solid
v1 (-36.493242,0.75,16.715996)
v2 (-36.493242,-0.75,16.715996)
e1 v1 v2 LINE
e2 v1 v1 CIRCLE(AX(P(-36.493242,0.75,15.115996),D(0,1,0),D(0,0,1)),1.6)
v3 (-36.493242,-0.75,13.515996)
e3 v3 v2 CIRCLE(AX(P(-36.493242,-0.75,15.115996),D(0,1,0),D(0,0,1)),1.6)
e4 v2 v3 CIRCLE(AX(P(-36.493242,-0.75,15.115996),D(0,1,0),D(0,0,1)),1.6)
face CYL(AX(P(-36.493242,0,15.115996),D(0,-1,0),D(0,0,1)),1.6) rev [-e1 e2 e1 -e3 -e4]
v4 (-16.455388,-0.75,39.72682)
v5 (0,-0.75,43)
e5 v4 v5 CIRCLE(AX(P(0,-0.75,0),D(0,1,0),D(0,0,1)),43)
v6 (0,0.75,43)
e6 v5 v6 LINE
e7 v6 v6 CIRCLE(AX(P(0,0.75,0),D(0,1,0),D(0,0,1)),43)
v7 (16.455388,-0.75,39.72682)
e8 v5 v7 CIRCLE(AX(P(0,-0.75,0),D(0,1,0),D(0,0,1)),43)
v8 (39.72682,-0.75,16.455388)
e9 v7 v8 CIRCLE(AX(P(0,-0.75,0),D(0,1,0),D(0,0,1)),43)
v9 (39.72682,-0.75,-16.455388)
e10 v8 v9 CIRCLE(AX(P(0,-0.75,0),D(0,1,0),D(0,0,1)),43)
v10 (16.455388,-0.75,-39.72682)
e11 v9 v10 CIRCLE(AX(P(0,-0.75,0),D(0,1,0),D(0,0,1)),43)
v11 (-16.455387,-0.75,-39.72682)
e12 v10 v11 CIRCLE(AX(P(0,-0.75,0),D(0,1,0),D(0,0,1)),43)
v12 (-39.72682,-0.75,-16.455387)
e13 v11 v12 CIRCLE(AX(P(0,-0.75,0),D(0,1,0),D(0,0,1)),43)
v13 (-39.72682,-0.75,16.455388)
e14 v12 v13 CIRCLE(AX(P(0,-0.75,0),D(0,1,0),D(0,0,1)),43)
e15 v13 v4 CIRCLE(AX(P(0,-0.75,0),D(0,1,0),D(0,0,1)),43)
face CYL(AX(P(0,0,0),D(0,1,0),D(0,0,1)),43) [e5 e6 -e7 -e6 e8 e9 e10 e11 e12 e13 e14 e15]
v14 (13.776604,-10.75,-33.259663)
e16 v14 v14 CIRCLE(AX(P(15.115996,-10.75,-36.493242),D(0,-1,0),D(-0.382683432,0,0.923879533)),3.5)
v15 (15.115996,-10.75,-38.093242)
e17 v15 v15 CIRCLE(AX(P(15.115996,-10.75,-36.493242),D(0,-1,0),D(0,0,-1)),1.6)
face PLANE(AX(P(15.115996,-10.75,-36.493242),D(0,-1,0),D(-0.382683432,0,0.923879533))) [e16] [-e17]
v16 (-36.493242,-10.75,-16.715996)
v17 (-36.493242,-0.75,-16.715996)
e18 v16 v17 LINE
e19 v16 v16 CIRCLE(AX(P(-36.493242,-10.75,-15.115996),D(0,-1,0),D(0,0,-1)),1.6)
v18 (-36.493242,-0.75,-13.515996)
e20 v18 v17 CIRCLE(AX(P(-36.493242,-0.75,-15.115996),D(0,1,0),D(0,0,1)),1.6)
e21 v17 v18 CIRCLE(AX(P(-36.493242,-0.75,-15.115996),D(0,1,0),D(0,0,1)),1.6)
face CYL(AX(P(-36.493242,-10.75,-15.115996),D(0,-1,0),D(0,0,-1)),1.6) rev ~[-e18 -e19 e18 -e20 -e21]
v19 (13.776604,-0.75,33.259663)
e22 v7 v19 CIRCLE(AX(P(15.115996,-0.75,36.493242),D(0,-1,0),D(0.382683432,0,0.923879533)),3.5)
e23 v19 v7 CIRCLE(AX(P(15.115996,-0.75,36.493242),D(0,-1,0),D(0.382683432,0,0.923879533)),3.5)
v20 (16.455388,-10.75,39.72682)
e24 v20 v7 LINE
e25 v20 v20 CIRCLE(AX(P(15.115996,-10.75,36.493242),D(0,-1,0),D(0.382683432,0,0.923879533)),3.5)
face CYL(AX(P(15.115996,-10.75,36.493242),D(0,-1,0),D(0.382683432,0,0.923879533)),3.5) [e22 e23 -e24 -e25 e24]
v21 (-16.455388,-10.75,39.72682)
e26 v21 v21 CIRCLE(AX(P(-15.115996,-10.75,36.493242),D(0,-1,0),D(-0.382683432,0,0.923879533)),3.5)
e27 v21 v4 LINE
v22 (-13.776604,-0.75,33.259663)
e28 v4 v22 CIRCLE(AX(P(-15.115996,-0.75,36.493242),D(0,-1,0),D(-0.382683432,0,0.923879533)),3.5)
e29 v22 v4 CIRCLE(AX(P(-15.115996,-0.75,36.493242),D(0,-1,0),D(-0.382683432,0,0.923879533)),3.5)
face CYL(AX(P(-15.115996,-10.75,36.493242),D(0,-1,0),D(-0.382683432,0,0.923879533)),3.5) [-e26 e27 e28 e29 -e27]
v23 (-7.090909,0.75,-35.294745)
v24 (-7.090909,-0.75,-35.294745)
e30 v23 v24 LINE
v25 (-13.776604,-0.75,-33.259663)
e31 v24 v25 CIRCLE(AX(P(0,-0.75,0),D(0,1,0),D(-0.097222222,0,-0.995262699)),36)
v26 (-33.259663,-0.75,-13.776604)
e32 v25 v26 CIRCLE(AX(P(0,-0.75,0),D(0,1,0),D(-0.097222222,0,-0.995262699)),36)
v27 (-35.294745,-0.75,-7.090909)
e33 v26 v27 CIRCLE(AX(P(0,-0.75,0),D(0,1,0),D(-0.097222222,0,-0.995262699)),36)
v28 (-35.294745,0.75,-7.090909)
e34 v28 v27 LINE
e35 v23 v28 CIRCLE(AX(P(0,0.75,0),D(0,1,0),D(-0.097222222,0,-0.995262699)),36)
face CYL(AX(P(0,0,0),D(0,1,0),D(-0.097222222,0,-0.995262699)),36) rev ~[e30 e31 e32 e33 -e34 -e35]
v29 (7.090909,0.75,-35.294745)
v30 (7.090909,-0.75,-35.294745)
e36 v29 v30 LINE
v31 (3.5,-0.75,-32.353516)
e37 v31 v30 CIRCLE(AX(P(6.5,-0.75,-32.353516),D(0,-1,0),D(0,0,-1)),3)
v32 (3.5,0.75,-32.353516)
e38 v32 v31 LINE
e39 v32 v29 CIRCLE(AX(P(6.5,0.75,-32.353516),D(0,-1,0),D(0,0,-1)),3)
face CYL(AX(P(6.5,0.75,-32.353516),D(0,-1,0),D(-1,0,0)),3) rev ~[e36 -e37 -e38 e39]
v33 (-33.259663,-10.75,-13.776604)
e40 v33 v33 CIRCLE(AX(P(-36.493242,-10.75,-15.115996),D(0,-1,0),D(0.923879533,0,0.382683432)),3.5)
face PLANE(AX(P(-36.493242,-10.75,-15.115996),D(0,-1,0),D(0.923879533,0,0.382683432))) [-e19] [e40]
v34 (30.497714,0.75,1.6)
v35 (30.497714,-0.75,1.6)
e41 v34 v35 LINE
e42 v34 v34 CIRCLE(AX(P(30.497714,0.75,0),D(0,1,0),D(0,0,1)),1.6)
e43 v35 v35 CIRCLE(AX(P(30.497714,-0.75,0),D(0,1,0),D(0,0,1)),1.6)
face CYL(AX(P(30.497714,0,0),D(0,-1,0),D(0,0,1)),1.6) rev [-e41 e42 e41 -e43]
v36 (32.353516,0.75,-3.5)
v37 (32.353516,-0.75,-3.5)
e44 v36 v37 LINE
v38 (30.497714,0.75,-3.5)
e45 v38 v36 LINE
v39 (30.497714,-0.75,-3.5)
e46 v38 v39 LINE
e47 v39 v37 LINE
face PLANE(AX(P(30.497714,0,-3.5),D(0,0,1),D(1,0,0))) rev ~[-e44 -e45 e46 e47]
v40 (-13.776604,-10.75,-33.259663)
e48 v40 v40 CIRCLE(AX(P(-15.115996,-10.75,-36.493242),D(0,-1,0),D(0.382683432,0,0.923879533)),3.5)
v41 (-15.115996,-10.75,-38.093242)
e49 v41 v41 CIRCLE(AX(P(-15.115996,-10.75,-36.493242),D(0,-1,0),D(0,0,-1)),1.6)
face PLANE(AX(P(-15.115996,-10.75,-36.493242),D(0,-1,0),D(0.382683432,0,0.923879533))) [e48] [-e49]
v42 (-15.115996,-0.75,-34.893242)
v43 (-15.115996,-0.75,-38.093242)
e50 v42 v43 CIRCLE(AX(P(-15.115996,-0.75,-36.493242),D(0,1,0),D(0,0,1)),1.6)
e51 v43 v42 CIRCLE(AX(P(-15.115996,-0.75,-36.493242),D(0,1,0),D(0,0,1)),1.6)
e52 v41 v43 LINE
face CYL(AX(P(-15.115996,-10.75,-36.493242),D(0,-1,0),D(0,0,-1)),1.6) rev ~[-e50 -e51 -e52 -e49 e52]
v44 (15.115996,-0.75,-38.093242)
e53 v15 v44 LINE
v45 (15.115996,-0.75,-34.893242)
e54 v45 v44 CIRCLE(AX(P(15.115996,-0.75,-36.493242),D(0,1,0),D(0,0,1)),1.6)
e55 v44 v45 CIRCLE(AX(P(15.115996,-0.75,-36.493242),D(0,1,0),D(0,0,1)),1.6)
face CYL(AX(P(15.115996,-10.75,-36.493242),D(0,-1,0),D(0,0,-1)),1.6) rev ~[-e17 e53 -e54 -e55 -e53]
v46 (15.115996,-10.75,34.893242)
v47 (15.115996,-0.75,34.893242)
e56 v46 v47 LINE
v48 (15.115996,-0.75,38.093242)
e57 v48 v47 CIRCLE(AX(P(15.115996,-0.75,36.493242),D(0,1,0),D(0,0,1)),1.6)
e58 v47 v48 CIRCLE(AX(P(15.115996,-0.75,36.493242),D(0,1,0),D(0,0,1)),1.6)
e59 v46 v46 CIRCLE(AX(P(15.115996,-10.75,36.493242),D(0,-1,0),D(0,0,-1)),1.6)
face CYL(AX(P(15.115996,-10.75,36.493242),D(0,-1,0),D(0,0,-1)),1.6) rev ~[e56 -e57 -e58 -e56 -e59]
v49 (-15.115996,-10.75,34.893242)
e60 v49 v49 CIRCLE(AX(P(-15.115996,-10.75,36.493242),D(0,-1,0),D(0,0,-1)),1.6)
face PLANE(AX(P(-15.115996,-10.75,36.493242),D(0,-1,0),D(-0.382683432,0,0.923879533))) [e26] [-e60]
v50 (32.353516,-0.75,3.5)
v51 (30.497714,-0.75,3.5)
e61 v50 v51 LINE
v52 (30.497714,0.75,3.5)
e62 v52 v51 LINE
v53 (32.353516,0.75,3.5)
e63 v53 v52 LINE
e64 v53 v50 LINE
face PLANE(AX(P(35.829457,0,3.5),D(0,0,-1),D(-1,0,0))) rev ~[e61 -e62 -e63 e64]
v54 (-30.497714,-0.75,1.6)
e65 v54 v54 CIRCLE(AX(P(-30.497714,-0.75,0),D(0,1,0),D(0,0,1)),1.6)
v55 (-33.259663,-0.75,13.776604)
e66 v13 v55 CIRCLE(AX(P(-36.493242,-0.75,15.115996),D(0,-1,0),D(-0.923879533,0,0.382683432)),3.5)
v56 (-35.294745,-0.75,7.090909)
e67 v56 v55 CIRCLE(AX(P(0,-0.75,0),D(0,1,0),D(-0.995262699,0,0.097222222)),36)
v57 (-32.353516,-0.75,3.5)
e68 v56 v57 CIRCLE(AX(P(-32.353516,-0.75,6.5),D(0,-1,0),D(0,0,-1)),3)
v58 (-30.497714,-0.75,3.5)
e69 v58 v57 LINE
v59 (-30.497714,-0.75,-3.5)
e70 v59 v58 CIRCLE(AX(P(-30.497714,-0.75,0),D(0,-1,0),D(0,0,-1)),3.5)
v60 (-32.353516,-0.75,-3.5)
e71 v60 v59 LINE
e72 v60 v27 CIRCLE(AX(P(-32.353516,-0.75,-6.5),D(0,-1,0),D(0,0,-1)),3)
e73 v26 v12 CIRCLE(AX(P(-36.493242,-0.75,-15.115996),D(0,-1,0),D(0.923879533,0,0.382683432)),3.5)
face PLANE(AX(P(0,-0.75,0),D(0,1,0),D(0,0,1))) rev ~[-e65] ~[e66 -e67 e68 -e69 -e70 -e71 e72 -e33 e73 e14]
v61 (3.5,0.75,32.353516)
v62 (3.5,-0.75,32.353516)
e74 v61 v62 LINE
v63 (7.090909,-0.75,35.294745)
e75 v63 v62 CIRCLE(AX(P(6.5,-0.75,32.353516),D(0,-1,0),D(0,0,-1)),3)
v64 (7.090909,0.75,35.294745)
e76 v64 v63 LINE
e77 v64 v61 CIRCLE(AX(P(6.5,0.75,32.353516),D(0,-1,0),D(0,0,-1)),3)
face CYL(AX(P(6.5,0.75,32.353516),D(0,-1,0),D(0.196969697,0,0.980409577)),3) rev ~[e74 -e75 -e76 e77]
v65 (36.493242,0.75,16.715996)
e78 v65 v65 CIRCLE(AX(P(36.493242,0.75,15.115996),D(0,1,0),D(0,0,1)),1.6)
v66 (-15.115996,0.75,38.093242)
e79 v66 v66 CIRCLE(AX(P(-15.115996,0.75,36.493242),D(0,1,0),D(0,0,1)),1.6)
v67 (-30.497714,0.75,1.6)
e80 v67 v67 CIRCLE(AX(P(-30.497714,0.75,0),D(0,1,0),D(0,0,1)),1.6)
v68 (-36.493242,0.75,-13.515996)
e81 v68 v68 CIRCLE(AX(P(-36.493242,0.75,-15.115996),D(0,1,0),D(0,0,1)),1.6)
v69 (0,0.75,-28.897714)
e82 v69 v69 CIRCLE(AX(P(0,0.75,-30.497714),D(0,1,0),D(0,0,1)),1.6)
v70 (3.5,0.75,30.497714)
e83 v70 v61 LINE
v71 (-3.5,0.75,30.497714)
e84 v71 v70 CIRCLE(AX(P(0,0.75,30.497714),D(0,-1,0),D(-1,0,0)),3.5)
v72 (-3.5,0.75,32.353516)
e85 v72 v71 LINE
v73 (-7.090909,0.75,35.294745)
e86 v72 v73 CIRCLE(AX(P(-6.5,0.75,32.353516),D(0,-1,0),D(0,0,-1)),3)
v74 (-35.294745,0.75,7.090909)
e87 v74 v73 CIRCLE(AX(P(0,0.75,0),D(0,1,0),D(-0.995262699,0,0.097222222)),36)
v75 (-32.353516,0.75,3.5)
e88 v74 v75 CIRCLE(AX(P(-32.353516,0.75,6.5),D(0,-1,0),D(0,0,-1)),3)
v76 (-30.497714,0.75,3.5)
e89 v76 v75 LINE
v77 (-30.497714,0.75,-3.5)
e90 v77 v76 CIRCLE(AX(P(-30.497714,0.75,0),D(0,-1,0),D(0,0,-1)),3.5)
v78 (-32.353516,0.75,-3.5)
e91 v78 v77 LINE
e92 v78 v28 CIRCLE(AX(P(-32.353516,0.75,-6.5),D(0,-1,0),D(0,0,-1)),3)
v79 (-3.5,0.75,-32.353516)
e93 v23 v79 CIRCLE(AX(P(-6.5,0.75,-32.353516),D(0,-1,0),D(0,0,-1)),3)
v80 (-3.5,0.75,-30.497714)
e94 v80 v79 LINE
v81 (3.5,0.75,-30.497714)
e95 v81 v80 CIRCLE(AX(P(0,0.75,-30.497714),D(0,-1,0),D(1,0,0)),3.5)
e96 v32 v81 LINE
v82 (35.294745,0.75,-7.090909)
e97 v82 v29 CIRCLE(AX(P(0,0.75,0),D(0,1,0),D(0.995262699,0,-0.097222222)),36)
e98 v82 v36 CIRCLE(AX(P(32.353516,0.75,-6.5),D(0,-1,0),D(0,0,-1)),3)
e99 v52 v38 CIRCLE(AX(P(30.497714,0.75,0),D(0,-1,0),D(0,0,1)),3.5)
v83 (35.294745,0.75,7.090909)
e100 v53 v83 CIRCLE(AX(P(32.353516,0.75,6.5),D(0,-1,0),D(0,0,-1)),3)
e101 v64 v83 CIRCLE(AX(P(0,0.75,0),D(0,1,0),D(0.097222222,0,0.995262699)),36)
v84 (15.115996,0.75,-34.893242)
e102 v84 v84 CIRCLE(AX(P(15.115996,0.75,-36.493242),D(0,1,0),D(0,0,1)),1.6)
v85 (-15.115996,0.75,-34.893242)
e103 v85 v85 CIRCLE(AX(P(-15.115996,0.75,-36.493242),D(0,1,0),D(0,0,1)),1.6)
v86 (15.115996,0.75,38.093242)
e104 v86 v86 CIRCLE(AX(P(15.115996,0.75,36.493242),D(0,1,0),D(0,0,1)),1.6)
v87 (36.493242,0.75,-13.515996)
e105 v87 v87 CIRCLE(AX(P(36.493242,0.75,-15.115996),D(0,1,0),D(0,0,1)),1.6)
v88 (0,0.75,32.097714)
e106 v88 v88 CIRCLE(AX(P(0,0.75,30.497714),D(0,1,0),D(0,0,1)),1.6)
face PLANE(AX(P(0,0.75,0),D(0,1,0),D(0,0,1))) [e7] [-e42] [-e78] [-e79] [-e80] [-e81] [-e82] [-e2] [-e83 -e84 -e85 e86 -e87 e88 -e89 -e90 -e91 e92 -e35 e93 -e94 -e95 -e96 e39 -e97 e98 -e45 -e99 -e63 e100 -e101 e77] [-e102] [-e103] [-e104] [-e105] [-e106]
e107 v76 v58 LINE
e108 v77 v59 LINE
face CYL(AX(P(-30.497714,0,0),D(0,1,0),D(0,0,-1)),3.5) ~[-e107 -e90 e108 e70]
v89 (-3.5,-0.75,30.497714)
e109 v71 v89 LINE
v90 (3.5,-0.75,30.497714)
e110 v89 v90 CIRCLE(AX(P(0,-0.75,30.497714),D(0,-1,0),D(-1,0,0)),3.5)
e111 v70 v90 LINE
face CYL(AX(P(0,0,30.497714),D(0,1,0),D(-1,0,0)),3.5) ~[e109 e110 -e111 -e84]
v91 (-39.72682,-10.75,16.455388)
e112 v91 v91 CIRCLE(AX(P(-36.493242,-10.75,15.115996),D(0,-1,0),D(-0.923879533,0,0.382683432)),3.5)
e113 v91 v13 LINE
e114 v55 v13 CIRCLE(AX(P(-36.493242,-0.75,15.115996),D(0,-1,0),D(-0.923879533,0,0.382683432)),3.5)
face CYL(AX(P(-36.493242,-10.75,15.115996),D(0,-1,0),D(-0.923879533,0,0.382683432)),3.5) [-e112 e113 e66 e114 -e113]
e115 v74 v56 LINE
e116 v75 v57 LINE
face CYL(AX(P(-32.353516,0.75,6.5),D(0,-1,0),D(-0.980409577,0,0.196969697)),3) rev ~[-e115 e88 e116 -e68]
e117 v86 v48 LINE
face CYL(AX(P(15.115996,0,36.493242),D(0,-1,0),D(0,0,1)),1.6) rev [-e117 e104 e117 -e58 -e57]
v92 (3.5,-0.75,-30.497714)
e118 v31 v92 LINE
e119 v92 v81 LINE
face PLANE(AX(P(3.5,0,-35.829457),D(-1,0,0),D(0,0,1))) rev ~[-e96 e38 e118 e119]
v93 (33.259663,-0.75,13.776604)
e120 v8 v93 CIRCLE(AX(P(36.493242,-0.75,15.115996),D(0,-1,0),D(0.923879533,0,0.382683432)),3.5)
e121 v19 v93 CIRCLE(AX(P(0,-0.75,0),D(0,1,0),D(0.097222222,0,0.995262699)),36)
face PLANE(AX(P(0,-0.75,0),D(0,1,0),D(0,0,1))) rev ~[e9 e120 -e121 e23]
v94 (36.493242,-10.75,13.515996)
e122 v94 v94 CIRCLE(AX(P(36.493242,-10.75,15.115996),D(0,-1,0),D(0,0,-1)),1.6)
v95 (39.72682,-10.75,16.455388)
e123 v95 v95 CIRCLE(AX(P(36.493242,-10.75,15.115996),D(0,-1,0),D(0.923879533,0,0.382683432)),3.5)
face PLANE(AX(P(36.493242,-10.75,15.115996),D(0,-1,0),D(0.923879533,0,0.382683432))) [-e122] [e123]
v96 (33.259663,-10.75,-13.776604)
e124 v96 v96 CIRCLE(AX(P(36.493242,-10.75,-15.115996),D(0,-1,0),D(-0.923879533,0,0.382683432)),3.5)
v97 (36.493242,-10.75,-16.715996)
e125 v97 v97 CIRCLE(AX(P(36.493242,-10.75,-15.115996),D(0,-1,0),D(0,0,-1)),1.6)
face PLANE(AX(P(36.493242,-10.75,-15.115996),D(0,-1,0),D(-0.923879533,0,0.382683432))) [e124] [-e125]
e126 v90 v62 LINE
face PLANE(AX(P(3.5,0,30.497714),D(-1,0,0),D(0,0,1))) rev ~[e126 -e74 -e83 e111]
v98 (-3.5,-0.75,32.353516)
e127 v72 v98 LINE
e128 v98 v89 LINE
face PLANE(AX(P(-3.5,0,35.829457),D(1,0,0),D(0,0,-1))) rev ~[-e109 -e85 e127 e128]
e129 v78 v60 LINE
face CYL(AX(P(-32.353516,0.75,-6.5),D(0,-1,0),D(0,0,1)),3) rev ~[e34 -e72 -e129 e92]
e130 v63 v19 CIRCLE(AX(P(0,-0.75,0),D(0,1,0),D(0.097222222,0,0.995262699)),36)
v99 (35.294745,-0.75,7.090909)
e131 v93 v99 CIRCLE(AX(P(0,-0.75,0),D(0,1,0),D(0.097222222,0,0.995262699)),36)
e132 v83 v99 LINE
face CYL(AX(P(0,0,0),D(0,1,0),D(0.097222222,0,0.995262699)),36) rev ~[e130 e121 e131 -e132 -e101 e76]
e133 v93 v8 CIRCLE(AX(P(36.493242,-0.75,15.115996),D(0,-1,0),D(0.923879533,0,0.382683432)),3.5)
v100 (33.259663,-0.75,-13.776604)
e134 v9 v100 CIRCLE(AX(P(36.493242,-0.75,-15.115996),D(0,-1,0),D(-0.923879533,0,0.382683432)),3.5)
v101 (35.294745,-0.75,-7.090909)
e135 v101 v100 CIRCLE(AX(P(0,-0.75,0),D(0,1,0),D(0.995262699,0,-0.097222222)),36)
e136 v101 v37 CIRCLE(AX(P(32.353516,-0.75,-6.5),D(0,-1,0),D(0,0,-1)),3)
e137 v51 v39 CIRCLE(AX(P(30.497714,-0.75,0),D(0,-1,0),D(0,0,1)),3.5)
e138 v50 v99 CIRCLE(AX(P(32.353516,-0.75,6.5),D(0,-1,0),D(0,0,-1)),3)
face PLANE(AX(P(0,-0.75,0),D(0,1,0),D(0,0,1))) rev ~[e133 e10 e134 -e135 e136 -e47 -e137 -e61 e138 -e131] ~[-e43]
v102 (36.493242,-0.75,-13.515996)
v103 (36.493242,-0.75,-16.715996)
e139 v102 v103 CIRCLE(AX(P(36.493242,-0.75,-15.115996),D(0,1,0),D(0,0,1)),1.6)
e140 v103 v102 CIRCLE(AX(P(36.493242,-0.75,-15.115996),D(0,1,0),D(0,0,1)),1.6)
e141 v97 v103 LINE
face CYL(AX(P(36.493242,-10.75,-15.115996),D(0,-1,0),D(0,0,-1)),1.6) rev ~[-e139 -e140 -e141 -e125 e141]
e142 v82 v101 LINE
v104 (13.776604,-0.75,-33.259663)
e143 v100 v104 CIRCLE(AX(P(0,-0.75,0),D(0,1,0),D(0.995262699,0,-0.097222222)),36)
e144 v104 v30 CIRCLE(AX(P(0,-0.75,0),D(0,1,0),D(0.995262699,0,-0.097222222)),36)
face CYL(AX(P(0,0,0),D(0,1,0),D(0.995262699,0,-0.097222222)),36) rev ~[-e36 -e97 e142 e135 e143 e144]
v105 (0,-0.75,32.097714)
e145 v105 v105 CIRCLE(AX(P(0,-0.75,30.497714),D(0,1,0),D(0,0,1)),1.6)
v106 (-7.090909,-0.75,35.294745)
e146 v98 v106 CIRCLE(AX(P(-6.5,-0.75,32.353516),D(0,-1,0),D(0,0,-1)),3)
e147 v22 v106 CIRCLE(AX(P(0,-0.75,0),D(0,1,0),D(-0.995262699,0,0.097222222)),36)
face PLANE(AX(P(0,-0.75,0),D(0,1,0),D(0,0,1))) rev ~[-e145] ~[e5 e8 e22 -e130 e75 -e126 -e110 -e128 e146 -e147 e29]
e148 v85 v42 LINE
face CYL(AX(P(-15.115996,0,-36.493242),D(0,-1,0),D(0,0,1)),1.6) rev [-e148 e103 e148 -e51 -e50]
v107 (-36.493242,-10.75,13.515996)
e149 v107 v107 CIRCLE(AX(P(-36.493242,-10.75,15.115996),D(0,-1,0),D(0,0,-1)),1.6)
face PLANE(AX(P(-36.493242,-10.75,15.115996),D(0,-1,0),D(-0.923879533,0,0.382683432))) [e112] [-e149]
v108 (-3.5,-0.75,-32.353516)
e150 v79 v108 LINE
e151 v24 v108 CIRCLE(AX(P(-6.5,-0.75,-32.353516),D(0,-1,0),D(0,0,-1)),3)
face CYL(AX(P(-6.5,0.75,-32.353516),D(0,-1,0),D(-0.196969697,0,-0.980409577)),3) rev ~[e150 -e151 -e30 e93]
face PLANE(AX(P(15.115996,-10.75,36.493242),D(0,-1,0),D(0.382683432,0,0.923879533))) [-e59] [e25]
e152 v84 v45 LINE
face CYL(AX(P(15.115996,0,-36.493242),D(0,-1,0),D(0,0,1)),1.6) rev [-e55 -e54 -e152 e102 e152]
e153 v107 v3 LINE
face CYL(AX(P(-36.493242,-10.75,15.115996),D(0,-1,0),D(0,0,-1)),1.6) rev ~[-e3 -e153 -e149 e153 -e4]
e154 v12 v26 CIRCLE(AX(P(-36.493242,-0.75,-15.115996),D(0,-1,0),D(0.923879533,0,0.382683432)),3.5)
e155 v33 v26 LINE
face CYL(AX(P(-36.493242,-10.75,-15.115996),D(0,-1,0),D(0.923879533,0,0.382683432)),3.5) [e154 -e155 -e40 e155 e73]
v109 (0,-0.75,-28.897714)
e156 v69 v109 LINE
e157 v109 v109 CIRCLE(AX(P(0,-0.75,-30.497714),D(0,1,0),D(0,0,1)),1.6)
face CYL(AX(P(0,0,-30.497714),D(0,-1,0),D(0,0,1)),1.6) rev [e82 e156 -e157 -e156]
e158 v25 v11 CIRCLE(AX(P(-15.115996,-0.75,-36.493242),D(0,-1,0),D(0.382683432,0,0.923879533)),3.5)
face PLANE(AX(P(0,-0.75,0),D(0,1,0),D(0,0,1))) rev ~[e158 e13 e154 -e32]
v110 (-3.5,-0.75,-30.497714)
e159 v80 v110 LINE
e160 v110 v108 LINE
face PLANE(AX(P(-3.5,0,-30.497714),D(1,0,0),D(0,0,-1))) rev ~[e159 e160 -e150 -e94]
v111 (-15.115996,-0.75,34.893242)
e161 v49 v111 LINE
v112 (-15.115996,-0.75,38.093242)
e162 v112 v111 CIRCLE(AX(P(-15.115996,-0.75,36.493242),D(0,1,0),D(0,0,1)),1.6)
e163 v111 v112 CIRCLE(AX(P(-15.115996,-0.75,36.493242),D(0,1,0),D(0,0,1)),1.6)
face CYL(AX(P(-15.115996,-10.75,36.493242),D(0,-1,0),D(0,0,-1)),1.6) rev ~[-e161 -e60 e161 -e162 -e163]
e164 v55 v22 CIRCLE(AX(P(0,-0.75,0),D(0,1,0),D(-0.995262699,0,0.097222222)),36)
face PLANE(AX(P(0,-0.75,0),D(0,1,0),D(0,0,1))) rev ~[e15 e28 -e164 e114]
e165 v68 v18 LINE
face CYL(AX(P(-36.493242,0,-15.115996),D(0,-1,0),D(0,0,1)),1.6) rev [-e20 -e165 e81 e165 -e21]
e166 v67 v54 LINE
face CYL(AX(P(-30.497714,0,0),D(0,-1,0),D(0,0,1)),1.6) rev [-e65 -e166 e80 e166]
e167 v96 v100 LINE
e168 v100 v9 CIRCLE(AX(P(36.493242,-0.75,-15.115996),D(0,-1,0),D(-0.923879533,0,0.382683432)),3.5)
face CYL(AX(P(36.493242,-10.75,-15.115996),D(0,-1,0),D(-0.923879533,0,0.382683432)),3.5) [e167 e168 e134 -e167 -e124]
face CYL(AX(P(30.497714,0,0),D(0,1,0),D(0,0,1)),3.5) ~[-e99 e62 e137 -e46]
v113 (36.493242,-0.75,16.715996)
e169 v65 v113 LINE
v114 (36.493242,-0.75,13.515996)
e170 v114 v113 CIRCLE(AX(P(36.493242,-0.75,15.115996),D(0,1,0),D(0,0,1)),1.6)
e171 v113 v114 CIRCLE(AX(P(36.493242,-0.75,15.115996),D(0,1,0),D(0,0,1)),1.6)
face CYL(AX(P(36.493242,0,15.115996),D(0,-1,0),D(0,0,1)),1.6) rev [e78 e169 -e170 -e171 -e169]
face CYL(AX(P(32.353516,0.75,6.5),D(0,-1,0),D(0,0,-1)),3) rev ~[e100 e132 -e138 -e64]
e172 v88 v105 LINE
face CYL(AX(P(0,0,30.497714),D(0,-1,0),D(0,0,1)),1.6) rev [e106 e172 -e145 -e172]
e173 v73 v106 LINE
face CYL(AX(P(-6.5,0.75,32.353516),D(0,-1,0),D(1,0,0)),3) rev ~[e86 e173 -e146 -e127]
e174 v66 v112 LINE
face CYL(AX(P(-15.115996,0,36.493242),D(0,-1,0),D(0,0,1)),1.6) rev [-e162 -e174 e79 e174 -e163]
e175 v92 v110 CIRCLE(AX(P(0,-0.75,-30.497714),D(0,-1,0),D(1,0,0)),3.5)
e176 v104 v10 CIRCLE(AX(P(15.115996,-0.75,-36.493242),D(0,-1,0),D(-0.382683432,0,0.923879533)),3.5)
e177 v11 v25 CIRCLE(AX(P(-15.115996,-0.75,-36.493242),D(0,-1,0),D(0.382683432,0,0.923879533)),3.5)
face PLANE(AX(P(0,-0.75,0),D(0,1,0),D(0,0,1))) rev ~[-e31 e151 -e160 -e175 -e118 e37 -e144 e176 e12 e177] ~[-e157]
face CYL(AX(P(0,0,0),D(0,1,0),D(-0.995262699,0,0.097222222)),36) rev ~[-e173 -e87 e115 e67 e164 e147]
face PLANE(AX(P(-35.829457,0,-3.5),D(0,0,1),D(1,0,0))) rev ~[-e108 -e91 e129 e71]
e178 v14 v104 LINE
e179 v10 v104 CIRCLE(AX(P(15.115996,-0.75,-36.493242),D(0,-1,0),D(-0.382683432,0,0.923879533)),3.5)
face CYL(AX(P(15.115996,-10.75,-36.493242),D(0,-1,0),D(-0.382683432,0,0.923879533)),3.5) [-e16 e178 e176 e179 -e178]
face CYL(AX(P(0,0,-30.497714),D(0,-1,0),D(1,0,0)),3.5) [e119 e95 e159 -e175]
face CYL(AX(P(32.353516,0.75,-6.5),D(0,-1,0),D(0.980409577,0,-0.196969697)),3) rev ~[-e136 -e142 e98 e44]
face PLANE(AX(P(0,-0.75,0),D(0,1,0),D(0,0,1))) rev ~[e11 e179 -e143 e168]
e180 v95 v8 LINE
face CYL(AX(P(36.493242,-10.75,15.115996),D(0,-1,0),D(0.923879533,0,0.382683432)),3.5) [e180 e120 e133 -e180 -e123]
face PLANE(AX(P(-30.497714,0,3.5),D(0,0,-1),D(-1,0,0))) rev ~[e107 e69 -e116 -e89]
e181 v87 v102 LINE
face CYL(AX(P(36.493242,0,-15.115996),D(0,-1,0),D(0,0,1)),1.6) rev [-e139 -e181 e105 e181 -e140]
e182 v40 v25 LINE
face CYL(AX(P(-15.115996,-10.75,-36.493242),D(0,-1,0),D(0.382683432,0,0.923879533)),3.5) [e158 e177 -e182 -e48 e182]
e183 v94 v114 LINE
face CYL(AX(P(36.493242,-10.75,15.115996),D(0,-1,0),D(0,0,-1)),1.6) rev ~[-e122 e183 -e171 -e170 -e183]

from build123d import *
from build123d.topology import SkipClean

# Parameters (mm, degrees)
ESBO_O1_R                = 43
ESBO_O1_R_2              = 1.6
RESSALTO_EXTRUS_O1_DEPTH = 0.75
FILETE2_R                = 3
RESSALTO_EXTRUS_O2_START = 10
ESBO_O2_R                = 3.5
ESBO_O2_R_2              = 1.6
RESSALTO_EXTRUS_O2_DEPTH = 10


with BuildPart() as part:
    # Esboço1 → Ressalto-extrusão1 (new, symmetric)
    with BuildSketch(Plane(origin=(0, 0, 0), x_dir=(1, 0, 0), z_dir=(0, 1, 0))):
        with Locations(Location((0, 0, 0), (0, 0, 270))):
            Circle(ESBO_O1_R)
        with Locations(Location((-36.493241534, 15.115995578, 0), (0, 0, 270))):
            Circle(ESBO_O1_R_2, mode=Mode.SUBTRACT)
        with Locations(Location((-15.115995578, 36.493241534, 0), (0, 0, 270))):
            Circle(ESBO_O1_R_2, mode=Mode.SUBTRACT)
        with Locations(Location((15.115995578, 36.493241534, 0), (0, 0, 270))):
            Circle(ESBO_O1_R_2, mode=Mode.SUBTRACT)
        with Locations(Location((36.493241534, 15.115995578, 0), (0, 0, 270))):
            Circle(ESBO_O1_R_2, mode=Mode.SUBTRACT)
        with Locations(Location((36.493241534, -15.115995578, 0), (0, 0, 270))):
            Circle(ESBO_O1_R_2, mode=Mode.SUBTRACT)
        with Locations(Location((15.115995578, -36.493241534, 0), (0, 0, 270))):
            Circle(ESBO_O1_R_2, mode=Mode.SUBTRACT)
        with Locations(Location((-15.115995578, -36.493241534, 0), (0, 0, 270))):
            Circle(ESBO_O1_R_2, mode=Mode.SUBTRACT)
        with Locations(Location((-36.493241534, -15.115995578, 0), (0, 0, 270))):
            Circle(ESBO_O1_R_2, mode=Mode.SUBTRACT)
        with Locations(Location((0, 30.497713542, 0), (0, 0, 270))):
            Circle(ESBO_O1_R_2, mode=Mode.SUBTRACT)
        with Locations(Location((30.497713542, 0, 0), (0, 0, 270))):
            Circle(ESBO_O1_R_2, mode=Mode.SUBTRACT)
        with Locations(Location((0, -30.497713542, 0), (0, 0, 270))):
            Circle(ESBO_O1_R_2, mode=Mode.SUBTRACT)
        with Locations(Location((-30.497713542, 0, 0), (0, 0, 270))):
            Circle(ESBO_O1_R_2, mode=Mode.SUBTRACT)
        with BuildLine():
            Line((-3.5, 30.497713542), (-3.5, 35.829457155))
            ThreePointArc((-3.5, 35.829457155), (-25.455844123, 25.455844123), (-35.829457155, 3.5))
            Line((-35.829457155, 3.5), (-30.497713542, 3.5))
            ThreePointArc((-30.497713542, 3.5), (-26.997713542, 0), (-30.497713542, -3.5))
            Line((-30.497713542, -3.5), (-35.829457155, -3.5))
            ThreePointArc((-35.829457155, -3.5), (-25.455844123, -25.455844123), (-3.5, -35.829457155))
            Line((-3.5, -35.829457155), (-3.5, -30.497713542))
            ThreePointArc((-3.5, -30.497713542), (0, -26.997713542), (3.5, -30.497713542))
            Line((3.5, -30.497713542), (3.5, -35.829457155))
            ThreePointArc((3.5, -35.829457155), (25.455844123, -25.455844123), (35.829457155, -3.5))
            Line((35.829457155, -3.5), (30.497713542, -3.5))
            ThreePointArc((30.497713542, -3.5), (26.997713542, 0), (30.497713542, 3.5))
            Line((30.497713542, 3.5), (35.829457155, 3.5))
            ThreePointArc((35.829457155, 3.5), (25.455844123, 25.455844123), (3.5, 35.829457155))
            Line((3.5, 35.829457155), (3.5, 30.497713542))
            ThreePointArc((3.5, 30.497713542), (0, 26.997713542), (-3.5, 30.497713542))
        make_face(mode=Mode.SUBTRACT)
    extrude(amount=RESSALTO_EXTRUS_O1_DEPTH, both=True)

    # Filete2
    filete2_edges = [part.edges().sort_by_distance(p)[0] for p in [
        (35.829457155, 0, -3.5),
        (3.5, 0, -35.829457155),
        (-3.5, 0, -35.829457155),
        (-35.829457155, 0, -3.5),
        (-35.829457155, 0, 3.5),
        (-3.5, 0, 35.829457155),
        (3.5, 0, 35.829457155),
        (35.829457155, 0, 3.5),
    ]]
    fillet(filete2_edges, radius=FILETE2_R)

    # Esboço2 → Ressalto-extrusão2 (add)
    # profile 1 of 8: a face of its own
    with SkipClean():  # the faces are left unmerged after this step: merging them gives an invalid solid
        with BuildSketch(Plane.XZ.offset(0.75).offset(RESSALTO_EXTRUS_O2_START)):
            with Locations(Location((-15.115995578, 36.493241534, 0), (0, 0, 112.5))):
                Circle(ESBO_O2_R)
            with Locations(Location((-15.115995578, 36.493241534, 0), (0, 0, 270))):
                Circle(ESBO_O2_R_2, mode=Mode.SUBTRACT)
        # profile 2 of 8: a face of its own
        with BuildSketch(Plane.XZ.offset(0.75).offset(RESSALTO_EXTRUS_O2_START)):
            with Locations(Location((15.115995578, 36.493241534, 0), (0, 0, 67.5))):
                Circle(ESBO_O2_R)
            with Locations(Location((15.115995578, 36.493241534, 0), (0, 0, 270))):
                Circle(ESBO_O2_R_2, mode=Mode.SUBTRACT)
        # profile 3 of 8: a face of its own
        with BuildSketch(Plane.XZ.offset(0.75).offset(RESSALTO_EXTRUS_O2_START)):
            with Locations(Location((36.493241534, 15.115995578, 0), (0, 0, 22.5))):
                Circle(ESBO_O2_R)
            with Locations(Location((36.493241534, 15.115995578, 0), (0, 0, 270))):
                Circle(ESBO_O2_R_2, mode=Mode.SUBTRACT)
        # profile 4 of 8: a face of its own
        with BuildSketch(Plane.XZ.offset(0.75).offset(RESSALTO_EXTRUS_O2_START)):
            with Locations(Location((36.493241534, -15.115995578, 0), (0, 0, 157.5))):
                Circle(ESBO_O2_R)
            with Locations(Location((36.493241534, -15.115995578, 0), (0, 0, 270))):
                Circle(ESBO_O2_R_2, mode=Mode.SUBTRACT)
        # profile 5 of 8: a face of its own
        with BuildSketch(Plane.XZ.offset(0.75).offset(RESSALTO_EXTRUS_O2_START)):
            with Locations(Location((15.115995578, -36.493241534, 0), (0, 0, 112.5))):
                Circle(ESBO_O2_R)
            with Locations(Location((15.115995578, -36.493241534, 0), (0, 0, 270))):
                Circle(ESBO_O2_R_2, mode=Mode.SUBTRACT)
        # profile 6 of 8: a face of its own
        with BuildSketch(Plane.XZ.offset(0.75).offset(RESSALTO_EXTRUS_O2_START)):
            with Locations(Location((-15.115995578, -36.493241534, 0), (0, 0, 67.5))):
                Circle(ESBO_O2_R)
            with Locations(Location((-15.115995578, -36.493241534, 0), (0, 0, 270))):
                Circle(ESBO_O2_R_2, mode=Mode.SUBTRACT)
        # profile 7 of 8: a face of its own
        with BuildSketch(Plane.XZ.offset(0.75).offset(RESSALTO_EXTRUS_O2_START)):
            with Locations(Location((-36.493241534, -15.115995578, 0), (0, 0, 22.5))):
                Circle(ESBO_O2_R)
            with Locations(Location((-36.493241534, -15.115995578, 0), (0, 0, 270))):
                Circle(ESBO_O2_R_2, mode=Mode.SUBTRACT)
        # profile 8 of 8: a face of its own
        with BuildSketch(Plane.XZ.offset(0.75).offset(RESSALTO_EXTRUS_O2_START)):
            with Locations(Location((-36.493241534, 15.115995578, 0), (0, 0, 157.5))):
                Circle(ESBO_O2_R)
            with Locations(Location((-36.493241534, 15.115995578, 0), (0, 0, 270))):
                Circle(ESBO_O2_R_2, mode=Mode.SUBTRACT)
        extrude(amount=-RESSALTO_EXTRUS_O2_DEPTH)


solid = part.part
